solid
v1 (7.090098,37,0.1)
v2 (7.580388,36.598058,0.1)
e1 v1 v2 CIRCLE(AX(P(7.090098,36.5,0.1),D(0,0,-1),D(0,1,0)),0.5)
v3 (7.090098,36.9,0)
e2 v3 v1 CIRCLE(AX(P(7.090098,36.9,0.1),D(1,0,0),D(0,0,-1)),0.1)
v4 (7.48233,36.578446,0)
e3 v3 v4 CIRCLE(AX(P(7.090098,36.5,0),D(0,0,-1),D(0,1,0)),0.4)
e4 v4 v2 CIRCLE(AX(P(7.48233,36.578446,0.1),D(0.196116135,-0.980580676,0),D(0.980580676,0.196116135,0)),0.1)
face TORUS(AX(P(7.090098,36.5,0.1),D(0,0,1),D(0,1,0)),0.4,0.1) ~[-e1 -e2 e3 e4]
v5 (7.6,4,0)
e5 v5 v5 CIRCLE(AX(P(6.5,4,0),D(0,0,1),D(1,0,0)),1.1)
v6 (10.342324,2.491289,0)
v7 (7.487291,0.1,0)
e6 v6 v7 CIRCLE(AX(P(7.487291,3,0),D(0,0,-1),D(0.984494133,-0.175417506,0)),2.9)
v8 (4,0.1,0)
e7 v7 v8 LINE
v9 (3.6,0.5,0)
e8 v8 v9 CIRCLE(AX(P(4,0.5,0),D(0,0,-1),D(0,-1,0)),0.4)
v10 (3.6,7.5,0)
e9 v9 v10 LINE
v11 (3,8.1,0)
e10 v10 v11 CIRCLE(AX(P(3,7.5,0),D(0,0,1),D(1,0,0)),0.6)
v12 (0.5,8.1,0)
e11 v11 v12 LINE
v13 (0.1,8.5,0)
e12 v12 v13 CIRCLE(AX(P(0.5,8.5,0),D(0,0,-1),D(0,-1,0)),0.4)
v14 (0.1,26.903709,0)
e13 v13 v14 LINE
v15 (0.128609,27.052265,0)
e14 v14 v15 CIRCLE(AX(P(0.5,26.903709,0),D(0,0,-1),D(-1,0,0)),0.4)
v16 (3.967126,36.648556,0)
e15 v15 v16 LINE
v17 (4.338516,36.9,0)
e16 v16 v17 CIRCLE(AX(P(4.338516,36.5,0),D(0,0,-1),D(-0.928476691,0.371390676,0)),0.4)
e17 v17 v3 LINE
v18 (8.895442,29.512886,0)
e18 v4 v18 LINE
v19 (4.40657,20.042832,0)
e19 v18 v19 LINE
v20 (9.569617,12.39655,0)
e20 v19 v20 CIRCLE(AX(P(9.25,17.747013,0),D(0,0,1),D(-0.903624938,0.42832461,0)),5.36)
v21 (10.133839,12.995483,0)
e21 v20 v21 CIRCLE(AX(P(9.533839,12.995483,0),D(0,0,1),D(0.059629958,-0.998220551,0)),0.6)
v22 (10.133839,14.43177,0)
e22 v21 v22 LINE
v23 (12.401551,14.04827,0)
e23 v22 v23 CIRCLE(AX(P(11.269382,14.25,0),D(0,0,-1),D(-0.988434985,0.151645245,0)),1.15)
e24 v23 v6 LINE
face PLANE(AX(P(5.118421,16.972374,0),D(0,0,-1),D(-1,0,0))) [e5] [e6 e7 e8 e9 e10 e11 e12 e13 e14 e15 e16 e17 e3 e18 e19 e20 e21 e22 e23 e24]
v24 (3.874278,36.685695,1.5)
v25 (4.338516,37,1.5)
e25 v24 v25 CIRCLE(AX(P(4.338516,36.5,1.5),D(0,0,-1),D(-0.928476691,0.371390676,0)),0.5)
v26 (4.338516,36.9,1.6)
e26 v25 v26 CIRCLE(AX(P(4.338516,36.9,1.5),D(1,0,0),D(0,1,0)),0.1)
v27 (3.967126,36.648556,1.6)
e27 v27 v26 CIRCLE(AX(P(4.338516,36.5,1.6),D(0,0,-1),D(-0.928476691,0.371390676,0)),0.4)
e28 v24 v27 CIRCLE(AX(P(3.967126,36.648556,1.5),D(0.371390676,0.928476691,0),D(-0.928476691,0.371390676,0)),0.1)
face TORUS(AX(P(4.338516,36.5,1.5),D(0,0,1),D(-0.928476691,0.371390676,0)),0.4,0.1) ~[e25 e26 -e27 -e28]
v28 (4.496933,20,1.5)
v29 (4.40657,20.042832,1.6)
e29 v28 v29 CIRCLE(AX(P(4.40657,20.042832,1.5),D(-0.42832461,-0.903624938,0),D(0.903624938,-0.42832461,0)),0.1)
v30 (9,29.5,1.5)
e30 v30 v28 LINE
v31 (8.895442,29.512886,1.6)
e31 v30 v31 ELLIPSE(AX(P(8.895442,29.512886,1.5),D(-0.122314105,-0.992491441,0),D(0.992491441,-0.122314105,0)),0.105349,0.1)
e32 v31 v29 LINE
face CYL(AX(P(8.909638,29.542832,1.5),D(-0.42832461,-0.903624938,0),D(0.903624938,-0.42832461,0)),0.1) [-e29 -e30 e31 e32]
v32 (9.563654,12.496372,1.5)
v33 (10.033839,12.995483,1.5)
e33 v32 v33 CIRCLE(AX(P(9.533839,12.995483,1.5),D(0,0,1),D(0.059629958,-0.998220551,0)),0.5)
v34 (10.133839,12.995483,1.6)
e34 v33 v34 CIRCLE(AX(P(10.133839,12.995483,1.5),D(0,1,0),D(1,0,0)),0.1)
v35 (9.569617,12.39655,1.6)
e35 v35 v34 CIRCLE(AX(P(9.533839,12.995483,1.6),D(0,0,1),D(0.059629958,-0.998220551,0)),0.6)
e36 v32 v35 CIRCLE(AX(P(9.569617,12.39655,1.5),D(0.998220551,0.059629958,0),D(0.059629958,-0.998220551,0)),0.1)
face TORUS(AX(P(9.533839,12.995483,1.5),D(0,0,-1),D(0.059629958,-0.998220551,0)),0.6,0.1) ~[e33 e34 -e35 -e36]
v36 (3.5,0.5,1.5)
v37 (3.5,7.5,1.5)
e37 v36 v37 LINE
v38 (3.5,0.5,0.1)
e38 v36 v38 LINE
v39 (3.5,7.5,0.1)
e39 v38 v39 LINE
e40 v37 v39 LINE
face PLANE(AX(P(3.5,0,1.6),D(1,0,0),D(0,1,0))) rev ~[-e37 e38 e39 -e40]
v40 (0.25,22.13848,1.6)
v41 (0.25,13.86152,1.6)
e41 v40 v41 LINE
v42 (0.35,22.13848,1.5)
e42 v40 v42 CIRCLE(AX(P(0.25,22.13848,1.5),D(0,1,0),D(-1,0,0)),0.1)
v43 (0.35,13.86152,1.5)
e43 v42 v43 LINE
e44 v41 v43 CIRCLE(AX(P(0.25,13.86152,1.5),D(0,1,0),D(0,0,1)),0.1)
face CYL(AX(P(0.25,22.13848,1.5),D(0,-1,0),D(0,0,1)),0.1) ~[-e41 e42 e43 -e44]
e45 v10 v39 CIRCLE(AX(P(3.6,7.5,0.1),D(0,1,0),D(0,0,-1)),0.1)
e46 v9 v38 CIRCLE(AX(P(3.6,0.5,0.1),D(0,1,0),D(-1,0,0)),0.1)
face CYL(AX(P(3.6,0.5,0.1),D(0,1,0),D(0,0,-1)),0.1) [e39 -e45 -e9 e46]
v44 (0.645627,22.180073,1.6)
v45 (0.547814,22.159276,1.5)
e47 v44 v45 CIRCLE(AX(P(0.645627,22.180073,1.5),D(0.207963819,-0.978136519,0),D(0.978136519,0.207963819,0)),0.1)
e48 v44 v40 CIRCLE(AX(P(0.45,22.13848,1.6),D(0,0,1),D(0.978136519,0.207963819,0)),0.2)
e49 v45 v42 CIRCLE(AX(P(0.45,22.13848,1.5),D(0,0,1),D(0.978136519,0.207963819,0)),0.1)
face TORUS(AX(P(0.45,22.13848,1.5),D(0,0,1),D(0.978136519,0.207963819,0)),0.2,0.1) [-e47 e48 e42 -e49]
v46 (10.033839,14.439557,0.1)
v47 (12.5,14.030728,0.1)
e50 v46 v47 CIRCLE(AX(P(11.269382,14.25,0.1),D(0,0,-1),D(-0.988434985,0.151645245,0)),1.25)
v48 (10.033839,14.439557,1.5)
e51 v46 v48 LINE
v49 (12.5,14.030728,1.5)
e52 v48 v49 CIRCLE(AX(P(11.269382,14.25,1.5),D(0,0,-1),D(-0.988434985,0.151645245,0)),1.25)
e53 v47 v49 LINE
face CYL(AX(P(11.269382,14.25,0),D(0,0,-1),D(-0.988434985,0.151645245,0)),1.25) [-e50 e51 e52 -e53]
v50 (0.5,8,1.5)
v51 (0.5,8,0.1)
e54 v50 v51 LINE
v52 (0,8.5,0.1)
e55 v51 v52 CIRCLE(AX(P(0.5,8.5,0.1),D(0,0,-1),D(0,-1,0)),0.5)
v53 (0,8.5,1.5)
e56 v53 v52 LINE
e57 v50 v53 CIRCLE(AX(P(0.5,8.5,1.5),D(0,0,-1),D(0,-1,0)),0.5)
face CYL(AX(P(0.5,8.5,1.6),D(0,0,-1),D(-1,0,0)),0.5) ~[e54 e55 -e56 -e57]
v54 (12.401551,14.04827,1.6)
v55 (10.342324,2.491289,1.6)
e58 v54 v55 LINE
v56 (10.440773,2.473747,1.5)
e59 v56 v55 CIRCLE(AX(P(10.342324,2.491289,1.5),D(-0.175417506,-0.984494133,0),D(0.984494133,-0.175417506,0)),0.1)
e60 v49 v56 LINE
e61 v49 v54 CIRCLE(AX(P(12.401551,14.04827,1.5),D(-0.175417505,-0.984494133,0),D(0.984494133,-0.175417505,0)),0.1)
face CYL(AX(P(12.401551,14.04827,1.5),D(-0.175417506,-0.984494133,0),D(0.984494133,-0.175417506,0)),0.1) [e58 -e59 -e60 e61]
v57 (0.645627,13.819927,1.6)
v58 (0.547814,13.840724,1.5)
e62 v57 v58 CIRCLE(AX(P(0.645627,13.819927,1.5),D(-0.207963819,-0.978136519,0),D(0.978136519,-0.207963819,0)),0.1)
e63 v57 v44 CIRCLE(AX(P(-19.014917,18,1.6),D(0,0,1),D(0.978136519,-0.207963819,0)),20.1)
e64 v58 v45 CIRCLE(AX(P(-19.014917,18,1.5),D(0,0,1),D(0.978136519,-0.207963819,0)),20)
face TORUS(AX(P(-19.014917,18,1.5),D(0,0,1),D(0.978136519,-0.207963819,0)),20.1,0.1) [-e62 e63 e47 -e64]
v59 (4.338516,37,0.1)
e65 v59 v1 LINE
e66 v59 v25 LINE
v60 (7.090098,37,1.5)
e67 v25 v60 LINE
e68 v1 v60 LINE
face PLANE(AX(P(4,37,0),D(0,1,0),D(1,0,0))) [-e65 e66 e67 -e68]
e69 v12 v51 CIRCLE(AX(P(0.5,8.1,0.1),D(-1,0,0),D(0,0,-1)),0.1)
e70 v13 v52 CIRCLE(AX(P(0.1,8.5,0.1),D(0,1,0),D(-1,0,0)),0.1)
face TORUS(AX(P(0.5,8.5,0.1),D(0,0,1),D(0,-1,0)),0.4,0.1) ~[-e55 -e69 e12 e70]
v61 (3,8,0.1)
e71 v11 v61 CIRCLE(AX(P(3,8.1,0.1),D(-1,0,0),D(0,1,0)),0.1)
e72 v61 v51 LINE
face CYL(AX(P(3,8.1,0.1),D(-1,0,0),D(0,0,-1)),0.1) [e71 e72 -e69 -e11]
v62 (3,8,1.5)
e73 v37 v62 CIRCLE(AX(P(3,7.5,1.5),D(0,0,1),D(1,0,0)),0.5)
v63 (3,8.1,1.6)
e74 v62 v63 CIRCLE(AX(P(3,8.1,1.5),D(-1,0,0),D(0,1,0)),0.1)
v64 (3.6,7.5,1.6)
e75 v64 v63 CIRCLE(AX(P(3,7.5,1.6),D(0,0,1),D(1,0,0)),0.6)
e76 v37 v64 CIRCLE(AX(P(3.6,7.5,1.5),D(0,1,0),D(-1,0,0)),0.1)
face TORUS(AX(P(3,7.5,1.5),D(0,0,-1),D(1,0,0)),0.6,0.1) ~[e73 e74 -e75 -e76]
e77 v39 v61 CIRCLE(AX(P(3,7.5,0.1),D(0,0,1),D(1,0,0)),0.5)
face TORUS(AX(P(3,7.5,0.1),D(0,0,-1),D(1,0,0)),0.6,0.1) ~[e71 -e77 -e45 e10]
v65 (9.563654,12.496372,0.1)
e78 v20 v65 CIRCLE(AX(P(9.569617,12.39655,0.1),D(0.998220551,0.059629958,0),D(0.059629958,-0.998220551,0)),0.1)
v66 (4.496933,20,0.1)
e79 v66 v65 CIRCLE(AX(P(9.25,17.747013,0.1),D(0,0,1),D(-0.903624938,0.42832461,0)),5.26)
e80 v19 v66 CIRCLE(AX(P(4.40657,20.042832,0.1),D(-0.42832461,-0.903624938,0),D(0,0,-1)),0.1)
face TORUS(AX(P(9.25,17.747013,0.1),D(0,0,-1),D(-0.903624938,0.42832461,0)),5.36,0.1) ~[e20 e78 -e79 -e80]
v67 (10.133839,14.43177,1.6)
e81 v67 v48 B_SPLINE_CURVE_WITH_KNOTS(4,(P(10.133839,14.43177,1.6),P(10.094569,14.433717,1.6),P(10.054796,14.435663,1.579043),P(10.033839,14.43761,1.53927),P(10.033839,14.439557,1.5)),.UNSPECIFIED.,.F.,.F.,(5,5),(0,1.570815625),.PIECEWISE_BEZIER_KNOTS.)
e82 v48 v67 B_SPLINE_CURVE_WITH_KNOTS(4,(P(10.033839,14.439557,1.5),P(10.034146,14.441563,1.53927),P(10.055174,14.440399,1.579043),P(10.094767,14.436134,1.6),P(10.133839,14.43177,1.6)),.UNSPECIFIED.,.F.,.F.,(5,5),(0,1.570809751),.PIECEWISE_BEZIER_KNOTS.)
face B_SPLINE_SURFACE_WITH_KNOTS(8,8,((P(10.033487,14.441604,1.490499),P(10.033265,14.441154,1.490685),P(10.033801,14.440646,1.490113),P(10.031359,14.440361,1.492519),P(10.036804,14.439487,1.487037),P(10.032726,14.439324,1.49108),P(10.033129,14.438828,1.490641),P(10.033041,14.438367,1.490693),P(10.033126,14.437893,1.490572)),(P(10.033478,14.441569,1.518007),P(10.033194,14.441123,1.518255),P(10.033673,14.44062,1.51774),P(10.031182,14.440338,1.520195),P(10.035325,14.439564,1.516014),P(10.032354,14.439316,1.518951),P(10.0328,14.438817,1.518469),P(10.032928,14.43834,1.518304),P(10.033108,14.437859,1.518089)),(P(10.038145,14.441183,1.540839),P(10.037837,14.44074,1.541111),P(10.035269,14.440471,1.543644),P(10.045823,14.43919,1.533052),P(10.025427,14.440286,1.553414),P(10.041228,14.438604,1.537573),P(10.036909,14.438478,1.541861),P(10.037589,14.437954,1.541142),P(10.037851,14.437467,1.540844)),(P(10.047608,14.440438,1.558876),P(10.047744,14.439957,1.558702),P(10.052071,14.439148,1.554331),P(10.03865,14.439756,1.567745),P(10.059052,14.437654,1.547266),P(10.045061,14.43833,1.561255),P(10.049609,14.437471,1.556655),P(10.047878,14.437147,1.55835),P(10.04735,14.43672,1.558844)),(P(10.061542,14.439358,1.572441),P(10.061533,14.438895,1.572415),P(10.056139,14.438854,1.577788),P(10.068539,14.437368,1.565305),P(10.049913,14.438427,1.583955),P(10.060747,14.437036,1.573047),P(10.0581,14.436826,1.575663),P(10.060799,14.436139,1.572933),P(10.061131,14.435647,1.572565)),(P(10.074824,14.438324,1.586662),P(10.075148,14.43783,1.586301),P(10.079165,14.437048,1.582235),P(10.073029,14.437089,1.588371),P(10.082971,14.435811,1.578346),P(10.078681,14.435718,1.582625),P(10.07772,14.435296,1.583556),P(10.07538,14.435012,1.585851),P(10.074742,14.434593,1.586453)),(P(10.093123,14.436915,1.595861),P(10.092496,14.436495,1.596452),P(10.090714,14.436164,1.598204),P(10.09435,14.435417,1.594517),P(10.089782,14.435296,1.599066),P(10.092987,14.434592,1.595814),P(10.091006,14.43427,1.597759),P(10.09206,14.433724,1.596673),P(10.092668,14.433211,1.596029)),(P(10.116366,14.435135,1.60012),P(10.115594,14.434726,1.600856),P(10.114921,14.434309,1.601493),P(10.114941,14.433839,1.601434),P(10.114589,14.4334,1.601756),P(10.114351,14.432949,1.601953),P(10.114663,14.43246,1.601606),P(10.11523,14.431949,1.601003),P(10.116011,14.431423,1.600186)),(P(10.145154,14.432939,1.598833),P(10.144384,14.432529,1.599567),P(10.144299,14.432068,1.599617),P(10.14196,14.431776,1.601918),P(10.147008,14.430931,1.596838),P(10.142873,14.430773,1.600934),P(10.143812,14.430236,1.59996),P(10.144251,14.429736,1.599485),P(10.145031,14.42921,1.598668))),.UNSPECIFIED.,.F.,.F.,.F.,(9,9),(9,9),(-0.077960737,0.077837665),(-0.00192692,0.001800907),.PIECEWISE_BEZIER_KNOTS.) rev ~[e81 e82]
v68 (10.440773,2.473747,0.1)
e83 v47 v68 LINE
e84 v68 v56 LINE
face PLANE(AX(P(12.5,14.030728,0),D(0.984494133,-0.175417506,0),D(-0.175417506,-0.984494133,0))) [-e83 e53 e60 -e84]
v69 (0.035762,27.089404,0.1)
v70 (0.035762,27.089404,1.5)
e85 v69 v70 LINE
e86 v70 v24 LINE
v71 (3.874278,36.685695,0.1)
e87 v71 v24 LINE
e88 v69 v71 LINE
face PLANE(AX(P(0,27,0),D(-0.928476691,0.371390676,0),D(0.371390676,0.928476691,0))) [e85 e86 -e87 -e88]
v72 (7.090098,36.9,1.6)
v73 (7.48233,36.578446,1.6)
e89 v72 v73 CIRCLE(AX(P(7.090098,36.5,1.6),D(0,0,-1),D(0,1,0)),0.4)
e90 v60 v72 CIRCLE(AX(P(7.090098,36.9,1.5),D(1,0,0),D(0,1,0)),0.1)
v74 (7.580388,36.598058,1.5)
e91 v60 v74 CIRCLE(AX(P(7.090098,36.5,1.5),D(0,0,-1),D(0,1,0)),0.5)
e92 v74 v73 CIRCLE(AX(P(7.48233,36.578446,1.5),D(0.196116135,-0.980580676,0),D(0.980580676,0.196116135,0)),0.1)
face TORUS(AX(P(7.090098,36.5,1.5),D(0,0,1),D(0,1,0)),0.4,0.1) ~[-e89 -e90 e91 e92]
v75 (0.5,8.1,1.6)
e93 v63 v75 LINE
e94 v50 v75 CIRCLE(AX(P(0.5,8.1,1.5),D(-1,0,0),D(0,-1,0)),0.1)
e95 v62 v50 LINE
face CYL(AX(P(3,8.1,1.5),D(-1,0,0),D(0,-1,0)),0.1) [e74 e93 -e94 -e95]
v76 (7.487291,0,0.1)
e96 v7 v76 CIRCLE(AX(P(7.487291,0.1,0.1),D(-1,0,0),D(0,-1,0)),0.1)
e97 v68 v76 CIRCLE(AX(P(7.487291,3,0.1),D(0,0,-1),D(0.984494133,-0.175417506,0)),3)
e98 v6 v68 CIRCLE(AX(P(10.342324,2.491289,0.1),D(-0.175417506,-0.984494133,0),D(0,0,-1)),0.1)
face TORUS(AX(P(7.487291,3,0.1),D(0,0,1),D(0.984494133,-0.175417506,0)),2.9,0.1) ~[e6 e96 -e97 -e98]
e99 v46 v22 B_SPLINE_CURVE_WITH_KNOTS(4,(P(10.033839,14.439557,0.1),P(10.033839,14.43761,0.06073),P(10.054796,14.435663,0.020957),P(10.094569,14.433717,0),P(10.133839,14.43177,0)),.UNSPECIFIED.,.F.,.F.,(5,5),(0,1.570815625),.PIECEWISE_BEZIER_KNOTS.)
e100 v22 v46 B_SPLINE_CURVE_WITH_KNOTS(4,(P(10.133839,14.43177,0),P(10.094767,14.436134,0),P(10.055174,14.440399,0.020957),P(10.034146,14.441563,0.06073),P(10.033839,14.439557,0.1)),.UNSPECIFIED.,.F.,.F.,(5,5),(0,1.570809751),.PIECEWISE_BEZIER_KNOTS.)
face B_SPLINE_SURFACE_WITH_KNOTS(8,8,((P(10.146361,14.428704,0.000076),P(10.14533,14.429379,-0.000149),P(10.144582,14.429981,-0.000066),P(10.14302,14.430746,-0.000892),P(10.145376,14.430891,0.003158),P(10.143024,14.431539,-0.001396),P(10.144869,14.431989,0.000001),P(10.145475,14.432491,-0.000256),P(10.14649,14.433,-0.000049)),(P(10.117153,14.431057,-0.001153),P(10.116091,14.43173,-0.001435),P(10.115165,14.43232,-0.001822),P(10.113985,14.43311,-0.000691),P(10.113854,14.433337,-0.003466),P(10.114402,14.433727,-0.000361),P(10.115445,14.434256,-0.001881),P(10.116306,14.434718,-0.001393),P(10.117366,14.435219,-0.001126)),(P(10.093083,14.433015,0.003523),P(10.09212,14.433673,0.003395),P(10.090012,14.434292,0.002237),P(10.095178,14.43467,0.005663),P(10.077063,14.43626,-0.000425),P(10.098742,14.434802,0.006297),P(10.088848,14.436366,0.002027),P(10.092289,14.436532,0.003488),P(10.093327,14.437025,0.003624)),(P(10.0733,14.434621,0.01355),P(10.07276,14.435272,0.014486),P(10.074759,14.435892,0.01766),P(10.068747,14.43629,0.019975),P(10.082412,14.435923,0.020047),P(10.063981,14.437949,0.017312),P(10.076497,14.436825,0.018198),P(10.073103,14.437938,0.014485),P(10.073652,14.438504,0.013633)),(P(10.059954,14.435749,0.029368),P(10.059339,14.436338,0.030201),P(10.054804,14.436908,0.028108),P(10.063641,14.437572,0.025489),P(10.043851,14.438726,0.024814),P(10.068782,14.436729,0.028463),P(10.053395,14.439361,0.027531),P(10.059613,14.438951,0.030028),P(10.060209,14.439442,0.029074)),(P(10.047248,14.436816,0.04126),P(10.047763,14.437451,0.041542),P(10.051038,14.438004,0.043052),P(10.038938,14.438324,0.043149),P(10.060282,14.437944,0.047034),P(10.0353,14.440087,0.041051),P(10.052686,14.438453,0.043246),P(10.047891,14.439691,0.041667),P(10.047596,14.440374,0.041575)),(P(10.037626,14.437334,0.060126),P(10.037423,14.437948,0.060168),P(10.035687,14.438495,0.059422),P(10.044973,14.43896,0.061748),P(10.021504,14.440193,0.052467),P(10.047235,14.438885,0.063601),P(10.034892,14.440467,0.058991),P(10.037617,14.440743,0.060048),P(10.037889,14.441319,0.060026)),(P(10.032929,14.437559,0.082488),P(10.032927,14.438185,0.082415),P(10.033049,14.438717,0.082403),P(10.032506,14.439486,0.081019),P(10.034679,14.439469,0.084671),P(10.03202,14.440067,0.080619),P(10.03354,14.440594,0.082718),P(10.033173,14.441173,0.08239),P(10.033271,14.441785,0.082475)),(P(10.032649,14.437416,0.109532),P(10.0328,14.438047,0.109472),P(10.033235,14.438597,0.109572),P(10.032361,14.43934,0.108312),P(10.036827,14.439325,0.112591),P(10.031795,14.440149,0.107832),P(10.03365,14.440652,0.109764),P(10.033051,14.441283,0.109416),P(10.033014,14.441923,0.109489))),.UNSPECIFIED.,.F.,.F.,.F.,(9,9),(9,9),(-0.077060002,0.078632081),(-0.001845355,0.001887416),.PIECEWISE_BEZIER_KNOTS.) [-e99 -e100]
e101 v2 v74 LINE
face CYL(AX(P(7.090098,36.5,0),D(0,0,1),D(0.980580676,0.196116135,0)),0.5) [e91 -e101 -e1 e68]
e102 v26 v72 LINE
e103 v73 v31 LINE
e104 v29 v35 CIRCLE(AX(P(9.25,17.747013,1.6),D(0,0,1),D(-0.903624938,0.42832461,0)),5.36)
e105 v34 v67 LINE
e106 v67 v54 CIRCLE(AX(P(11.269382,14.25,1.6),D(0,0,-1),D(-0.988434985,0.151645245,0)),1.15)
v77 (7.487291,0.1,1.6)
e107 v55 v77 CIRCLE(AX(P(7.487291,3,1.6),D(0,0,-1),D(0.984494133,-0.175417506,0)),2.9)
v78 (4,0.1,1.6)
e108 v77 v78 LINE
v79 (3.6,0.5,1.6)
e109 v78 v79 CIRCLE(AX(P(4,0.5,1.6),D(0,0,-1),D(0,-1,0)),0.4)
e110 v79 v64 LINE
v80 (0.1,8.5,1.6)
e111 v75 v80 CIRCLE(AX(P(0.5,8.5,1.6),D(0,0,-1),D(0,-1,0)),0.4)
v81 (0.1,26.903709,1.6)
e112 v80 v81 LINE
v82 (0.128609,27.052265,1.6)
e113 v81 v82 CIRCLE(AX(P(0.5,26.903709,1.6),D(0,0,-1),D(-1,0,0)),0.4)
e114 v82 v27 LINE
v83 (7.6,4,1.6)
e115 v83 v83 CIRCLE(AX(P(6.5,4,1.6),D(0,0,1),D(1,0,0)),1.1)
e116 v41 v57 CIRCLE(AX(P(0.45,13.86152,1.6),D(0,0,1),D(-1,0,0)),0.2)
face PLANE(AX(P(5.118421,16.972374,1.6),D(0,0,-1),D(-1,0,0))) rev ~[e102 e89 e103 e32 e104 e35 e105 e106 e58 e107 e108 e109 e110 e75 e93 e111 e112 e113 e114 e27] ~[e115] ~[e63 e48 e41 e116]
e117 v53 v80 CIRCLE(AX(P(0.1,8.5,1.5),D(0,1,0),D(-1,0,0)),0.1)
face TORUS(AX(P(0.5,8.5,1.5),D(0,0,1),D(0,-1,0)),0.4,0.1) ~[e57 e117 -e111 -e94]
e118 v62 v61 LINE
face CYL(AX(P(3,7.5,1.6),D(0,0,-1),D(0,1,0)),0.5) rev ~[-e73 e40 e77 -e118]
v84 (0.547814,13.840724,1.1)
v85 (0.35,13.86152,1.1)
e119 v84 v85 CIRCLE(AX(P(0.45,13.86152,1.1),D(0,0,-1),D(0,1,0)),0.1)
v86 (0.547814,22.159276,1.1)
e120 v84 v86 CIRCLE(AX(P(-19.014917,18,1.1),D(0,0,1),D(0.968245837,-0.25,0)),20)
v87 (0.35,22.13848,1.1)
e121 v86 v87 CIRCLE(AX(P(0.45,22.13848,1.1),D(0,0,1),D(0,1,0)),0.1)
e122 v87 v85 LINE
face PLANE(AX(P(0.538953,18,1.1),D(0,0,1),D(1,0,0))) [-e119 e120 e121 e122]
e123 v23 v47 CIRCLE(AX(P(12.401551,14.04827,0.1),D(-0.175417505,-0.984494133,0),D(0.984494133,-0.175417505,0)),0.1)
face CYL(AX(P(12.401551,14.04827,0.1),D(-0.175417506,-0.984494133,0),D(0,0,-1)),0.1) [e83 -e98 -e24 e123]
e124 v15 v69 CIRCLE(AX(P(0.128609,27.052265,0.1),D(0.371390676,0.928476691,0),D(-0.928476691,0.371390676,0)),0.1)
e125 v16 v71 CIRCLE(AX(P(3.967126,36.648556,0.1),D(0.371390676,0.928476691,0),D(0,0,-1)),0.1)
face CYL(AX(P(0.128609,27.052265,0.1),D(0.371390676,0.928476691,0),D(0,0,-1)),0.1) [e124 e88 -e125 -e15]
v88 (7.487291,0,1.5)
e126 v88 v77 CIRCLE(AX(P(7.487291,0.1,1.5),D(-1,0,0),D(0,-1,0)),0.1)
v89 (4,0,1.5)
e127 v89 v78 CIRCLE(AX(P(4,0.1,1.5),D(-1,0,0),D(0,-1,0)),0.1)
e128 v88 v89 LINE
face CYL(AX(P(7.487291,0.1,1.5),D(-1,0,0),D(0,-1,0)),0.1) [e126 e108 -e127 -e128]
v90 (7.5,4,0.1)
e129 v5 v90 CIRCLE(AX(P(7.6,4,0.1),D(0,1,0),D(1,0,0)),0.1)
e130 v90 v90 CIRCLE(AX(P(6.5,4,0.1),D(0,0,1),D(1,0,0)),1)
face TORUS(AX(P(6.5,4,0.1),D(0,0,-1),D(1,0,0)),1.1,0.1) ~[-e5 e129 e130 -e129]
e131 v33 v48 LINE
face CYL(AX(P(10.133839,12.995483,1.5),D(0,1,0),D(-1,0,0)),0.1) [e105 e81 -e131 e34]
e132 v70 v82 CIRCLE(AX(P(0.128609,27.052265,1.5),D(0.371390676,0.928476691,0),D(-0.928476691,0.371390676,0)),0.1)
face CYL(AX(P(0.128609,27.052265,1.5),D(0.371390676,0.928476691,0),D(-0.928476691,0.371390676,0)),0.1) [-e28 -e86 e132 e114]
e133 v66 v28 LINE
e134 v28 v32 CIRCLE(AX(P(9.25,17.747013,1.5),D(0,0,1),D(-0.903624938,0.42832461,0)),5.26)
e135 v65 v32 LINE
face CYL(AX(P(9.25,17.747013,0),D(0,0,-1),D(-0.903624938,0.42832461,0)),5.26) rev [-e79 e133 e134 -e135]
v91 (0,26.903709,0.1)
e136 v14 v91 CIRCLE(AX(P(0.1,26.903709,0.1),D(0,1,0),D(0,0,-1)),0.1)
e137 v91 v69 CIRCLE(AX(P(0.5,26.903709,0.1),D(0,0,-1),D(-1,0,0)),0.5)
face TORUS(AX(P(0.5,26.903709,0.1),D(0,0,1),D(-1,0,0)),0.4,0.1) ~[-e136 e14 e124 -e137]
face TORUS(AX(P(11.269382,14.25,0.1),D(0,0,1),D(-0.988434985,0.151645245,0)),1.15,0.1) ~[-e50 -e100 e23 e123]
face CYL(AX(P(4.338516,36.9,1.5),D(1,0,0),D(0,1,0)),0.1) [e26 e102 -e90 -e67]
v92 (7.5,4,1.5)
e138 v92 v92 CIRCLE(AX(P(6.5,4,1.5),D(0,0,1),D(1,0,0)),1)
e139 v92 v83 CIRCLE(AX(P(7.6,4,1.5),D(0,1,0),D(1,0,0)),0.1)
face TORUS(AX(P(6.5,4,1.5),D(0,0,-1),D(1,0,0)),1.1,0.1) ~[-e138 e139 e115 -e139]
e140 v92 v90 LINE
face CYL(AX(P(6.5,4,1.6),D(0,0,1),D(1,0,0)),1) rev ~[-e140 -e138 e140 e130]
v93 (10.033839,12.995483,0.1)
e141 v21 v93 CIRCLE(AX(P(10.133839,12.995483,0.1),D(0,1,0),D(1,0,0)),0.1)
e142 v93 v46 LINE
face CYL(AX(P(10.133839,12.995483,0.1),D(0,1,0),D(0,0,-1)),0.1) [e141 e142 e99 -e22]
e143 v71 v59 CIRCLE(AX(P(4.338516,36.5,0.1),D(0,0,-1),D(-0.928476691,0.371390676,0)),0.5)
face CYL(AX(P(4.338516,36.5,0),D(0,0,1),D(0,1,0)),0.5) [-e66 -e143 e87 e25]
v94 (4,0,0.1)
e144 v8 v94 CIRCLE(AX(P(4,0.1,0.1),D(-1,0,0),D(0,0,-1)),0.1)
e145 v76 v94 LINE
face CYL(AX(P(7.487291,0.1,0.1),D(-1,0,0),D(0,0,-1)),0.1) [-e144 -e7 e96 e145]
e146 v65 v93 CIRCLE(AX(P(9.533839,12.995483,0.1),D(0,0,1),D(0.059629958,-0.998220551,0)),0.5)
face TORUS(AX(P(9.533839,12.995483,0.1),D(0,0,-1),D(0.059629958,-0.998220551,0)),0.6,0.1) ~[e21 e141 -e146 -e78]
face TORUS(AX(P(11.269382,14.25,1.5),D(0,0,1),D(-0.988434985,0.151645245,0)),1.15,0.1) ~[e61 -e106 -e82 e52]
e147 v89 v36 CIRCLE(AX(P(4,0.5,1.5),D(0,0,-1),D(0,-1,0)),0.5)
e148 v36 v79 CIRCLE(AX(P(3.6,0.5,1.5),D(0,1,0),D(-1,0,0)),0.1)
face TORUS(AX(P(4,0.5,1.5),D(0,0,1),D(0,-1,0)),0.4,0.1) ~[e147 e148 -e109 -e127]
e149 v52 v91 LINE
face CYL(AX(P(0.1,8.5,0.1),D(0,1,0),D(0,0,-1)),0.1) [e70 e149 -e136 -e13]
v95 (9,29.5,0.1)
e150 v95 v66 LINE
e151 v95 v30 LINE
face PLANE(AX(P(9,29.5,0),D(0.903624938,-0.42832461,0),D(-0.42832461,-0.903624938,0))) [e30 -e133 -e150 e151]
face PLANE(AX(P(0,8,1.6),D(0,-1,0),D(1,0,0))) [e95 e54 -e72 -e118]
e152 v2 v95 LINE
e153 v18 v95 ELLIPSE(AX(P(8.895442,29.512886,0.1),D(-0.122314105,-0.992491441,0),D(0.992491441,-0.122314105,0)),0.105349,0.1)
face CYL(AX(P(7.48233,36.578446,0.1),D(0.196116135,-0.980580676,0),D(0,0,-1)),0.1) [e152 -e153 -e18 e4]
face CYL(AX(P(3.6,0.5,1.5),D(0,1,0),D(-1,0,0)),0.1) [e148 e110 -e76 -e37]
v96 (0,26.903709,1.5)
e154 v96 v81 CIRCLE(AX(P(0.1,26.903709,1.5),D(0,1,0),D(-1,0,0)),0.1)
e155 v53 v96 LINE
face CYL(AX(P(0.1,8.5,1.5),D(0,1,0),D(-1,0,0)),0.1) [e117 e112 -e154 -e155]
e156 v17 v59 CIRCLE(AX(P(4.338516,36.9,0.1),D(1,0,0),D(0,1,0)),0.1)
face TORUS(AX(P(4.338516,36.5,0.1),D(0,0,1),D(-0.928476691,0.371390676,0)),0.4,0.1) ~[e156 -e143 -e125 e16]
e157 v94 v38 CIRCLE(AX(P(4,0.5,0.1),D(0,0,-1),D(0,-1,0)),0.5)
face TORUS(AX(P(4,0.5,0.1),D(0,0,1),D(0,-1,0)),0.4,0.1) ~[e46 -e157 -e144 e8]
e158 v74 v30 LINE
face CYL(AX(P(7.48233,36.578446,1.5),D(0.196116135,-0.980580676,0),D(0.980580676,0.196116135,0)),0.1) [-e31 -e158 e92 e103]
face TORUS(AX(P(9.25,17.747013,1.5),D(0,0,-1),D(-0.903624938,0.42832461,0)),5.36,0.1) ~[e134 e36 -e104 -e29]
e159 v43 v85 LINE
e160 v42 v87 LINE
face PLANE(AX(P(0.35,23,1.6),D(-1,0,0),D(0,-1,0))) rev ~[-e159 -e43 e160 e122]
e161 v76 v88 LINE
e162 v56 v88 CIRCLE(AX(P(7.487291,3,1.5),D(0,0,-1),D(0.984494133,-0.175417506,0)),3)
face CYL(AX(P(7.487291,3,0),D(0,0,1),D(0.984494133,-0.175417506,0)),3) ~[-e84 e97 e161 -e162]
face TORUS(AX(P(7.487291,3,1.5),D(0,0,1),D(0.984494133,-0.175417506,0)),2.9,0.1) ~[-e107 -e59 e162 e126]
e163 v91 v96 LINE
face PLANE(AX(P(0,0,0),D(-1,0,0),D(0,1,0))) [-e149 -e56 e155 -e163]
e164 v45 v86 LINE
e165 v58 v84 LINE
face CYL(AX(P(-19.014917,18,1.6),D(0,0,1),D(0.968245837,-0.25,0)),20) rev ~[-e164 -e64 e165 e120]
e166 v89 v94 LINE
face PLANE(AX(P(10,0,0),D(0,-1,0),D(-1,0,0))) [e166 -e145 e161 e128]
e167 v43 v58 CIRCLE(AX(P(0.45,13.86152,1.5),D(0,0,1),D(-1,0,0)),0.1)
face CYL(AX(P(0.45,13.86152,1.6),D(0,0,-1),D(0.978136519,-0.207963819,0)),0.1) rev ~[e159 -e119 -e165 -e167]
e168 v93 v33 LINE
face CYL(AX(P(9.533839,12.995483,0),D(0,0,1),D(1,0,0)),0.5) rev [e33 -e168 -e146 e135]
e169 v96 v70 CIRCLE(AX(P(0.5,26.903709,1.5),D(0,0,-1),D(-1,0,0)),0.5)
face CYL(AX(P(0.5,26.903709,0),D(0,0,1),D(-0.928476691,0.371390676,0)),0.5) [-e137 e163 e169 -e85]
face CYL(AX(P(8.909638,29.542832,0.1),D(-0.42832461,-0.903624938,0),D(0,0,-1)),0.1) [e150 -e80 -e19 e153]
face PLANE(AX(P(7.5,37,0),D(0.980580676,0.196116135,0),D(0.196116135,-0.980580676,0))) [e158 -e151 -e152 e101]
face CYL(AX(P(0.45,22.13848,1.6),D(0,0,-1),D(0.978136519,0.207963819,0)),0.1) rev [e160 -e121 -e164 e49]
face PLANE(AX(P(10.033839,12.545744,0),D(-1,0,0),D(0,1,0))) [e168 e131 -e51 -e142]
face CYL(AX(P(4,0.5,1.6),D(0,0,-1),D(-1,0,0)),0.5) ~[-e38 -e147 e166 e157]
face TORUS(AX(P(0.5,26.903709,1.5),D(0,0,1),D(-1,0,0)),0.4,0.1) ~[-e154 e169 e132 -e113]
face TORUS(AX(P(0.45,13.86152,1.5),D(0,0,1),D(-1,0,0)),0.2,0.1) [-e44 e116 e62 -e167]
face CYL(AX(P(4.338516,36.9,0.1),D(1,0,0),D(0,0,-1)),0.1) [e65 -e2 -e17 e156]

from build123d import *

# Parameters (mm, degrees)
BOSS_EXTRUDE1_DEPTH = 1.6
FILLET1_R           = 3
SKETCH2_R           = 1
SKETCH2_W           = 3.5
SKETCH2_H           = 8
CUT_EXTRUDE1_DEPTH  = 40.093412924
FILLET2_R           = 0.5
FILLET3_R           = 0.1
CUT_EXTRUDE2_DEPTH  = 0.5
FILLET4_R           = 0.1
FILLET5_R           = 0.1


with BuildPart() as part:
    # Sketch1 → Boss-Extrude1 (new body)
    with BuildSketch(Plane.XY):
        with BuildLine():
            Line((0, 0), (0, 27))
            Line((0, 27), (4, 37))
            Line((4, 37), (7.5, 37))
            Line((7.5, 37), (9, 29.5))
            Line((9, 29.5), (4.496932826, 20))
            ThreePointArc((4.496932826, 20), (5.02742047, 14.61054605), (10.033838602, 12.545743759))
            Line((10.033838602, 12.545743759), (10.033838602, 14.439556556))
            ThreePointArc((10.033838602, 14.439556556), (11.473811391, 15.483170207), (12.5, 14.030728118))
            Line((12.5, 14.030728118), (10, 0))
            Line((10, 0), (0, 0))
        make_face()
    extrude(amount=BOSS_EXTRUDE1_DEPTH)

    # Fillet1
    fillet1_edges = [part.edges().sort_by_distance(p)[0] for p in [
        (10, 0, 0.8),
    ]]
    fillet(fillet1_edges, radius=FILLET1_R)

    # Sketch2 → Cut-Extrude1 (cut, through all)
    with BuildSketch(Plane.XY.offset(1.6)):
        with Locations((6.5, 4)):
            Circle(SKETCH2_R)
        with Locations((1.75, 4)):
            Rectangle(SKETCH2_W, SKETCH2_H)
    extrude(amount=-CUT_EXTRUDE1_DEPTH, mode=Mode.SUBTRACT)

    # Fillet2
    fillet2_edges = [part.edges().sort_by_distance(p)[0] for p in [
        (0, 27, 0.8),
        (4, 37, 0.8),
        (7.5, 37, 0.8),
        (10.033838602, 12.545743759, 0.8),
        (0, 8, 0.8),
        (3.5, 8, 0.8),
        (3.5, 0, 0.8),
    ]]
    fillet(fillet2_edges, radius=FILLET2_R)

    # Fillet3
    fillet3_edges = [part.edges().sort_by_distance(p)[0] for p in [
        (8.290194193, 33.049029034, 0),
        (6.748466413, 24.75, 0),
        (10.033838602, 13.717519643, 0),
        (11.473811391, 15.483170207, 1.6),
        (11.473811391, 15.483170207, 0),
        (10.033838602, 13.717519643, 1.6),
        (6.748466413, 24.75, 1.6),
        (8.290194193, 33.049029034, 1.6),
        (11.470386592, 8.2522378, 0),
        (11.470386592, 8.2522378, 1.6),
        (9.413588067, 0.700135052, 0),
        (9.413588067, 0.700135052, 1.6),
        (5.5, 4, 0),
        (5.5, 4, 1.6),
        (4.890733451, 14.803478085, 0),
        (4.890733451, 14.803478085, 1.6),
        (5.714307265, 37, 0),
        (5.714307265, 37, 1.6),
        (3.5, 4, 0),
        (1.75, 8, 0),
        (0, 17.701854399, 0),
        (1.955019895, 31.887549737, 0),
        (5.743645392, 0, 0),
        (0.146446609, 8.146446609, 0),
        (3.646446609, 0.146446609, 0),
        (0.009021807, 26.998262559, 0),
        (4.058202076, 36.914033615, 0),
        (7.407092501, 36.886671071, 0),
        (1.75, 8, 1.6),
        (3.5, 4, 1.6),
        (5.743645392, 0, 1.6),
        (1.955019895, 31.887549737, 1.6),
        (0, 17.701854399, 1.6),
        (0.146446609, 8.146446609, 1.6),
        (3.646446609, 0.146446609, 1.6),
        (0.009021807, 26.998262559, 1.6),
        (4.058202076, 36.914033615, 1.6),
        (7.407092501, 36.886671071, 1.6),
        (9.897780554, 12.652632536, 0),
        (9.897780554, 12.652632536, 1.6),
        (3.353553391, 7.853553391, 1.6),
        (3.353553391, 7.853553391, 0),
    ]]
    fillet(fillet3_edges, radius=FILLET3_R)

    # Sketch3 → Cut-Extrude2 (cut)
    with BuildSketch(Plane.XY.offset(1.6)):
        with BuildLine():
            Line((0.35, 23), (0.35, 13))
            ThreePointArc((0.35, 13), (0.985083269, 18), (0.35, 23))
        make_face()
    extrude(amount=-CUT_EXTRUDE2_DEPTH, mode=Mode.SUBTRACT)

    # Fillet4
    fillet4_edges = [part.edges().sort_by_distance(p)[0] for p in [
        (0.35, 23, 1.35),
        (0.35, 13, 1.35),
    ]]
    fillet(fillet4_edges, radius=FILLET4_R)

    # Fillet5
    fillet5_edges = [part.edges().sort_by_distance(p)[0] for p in [
        (0.985083269, 18, 1.6),
        (0.35, 18, 1.6),
        (0.439544504, 13.762068096, 1.6),
        (0.439544504, 22.237931904, 1.6),
    ]]
    fillet(fillet5_edges, radius=FILLET5_R)


solid = part.part
